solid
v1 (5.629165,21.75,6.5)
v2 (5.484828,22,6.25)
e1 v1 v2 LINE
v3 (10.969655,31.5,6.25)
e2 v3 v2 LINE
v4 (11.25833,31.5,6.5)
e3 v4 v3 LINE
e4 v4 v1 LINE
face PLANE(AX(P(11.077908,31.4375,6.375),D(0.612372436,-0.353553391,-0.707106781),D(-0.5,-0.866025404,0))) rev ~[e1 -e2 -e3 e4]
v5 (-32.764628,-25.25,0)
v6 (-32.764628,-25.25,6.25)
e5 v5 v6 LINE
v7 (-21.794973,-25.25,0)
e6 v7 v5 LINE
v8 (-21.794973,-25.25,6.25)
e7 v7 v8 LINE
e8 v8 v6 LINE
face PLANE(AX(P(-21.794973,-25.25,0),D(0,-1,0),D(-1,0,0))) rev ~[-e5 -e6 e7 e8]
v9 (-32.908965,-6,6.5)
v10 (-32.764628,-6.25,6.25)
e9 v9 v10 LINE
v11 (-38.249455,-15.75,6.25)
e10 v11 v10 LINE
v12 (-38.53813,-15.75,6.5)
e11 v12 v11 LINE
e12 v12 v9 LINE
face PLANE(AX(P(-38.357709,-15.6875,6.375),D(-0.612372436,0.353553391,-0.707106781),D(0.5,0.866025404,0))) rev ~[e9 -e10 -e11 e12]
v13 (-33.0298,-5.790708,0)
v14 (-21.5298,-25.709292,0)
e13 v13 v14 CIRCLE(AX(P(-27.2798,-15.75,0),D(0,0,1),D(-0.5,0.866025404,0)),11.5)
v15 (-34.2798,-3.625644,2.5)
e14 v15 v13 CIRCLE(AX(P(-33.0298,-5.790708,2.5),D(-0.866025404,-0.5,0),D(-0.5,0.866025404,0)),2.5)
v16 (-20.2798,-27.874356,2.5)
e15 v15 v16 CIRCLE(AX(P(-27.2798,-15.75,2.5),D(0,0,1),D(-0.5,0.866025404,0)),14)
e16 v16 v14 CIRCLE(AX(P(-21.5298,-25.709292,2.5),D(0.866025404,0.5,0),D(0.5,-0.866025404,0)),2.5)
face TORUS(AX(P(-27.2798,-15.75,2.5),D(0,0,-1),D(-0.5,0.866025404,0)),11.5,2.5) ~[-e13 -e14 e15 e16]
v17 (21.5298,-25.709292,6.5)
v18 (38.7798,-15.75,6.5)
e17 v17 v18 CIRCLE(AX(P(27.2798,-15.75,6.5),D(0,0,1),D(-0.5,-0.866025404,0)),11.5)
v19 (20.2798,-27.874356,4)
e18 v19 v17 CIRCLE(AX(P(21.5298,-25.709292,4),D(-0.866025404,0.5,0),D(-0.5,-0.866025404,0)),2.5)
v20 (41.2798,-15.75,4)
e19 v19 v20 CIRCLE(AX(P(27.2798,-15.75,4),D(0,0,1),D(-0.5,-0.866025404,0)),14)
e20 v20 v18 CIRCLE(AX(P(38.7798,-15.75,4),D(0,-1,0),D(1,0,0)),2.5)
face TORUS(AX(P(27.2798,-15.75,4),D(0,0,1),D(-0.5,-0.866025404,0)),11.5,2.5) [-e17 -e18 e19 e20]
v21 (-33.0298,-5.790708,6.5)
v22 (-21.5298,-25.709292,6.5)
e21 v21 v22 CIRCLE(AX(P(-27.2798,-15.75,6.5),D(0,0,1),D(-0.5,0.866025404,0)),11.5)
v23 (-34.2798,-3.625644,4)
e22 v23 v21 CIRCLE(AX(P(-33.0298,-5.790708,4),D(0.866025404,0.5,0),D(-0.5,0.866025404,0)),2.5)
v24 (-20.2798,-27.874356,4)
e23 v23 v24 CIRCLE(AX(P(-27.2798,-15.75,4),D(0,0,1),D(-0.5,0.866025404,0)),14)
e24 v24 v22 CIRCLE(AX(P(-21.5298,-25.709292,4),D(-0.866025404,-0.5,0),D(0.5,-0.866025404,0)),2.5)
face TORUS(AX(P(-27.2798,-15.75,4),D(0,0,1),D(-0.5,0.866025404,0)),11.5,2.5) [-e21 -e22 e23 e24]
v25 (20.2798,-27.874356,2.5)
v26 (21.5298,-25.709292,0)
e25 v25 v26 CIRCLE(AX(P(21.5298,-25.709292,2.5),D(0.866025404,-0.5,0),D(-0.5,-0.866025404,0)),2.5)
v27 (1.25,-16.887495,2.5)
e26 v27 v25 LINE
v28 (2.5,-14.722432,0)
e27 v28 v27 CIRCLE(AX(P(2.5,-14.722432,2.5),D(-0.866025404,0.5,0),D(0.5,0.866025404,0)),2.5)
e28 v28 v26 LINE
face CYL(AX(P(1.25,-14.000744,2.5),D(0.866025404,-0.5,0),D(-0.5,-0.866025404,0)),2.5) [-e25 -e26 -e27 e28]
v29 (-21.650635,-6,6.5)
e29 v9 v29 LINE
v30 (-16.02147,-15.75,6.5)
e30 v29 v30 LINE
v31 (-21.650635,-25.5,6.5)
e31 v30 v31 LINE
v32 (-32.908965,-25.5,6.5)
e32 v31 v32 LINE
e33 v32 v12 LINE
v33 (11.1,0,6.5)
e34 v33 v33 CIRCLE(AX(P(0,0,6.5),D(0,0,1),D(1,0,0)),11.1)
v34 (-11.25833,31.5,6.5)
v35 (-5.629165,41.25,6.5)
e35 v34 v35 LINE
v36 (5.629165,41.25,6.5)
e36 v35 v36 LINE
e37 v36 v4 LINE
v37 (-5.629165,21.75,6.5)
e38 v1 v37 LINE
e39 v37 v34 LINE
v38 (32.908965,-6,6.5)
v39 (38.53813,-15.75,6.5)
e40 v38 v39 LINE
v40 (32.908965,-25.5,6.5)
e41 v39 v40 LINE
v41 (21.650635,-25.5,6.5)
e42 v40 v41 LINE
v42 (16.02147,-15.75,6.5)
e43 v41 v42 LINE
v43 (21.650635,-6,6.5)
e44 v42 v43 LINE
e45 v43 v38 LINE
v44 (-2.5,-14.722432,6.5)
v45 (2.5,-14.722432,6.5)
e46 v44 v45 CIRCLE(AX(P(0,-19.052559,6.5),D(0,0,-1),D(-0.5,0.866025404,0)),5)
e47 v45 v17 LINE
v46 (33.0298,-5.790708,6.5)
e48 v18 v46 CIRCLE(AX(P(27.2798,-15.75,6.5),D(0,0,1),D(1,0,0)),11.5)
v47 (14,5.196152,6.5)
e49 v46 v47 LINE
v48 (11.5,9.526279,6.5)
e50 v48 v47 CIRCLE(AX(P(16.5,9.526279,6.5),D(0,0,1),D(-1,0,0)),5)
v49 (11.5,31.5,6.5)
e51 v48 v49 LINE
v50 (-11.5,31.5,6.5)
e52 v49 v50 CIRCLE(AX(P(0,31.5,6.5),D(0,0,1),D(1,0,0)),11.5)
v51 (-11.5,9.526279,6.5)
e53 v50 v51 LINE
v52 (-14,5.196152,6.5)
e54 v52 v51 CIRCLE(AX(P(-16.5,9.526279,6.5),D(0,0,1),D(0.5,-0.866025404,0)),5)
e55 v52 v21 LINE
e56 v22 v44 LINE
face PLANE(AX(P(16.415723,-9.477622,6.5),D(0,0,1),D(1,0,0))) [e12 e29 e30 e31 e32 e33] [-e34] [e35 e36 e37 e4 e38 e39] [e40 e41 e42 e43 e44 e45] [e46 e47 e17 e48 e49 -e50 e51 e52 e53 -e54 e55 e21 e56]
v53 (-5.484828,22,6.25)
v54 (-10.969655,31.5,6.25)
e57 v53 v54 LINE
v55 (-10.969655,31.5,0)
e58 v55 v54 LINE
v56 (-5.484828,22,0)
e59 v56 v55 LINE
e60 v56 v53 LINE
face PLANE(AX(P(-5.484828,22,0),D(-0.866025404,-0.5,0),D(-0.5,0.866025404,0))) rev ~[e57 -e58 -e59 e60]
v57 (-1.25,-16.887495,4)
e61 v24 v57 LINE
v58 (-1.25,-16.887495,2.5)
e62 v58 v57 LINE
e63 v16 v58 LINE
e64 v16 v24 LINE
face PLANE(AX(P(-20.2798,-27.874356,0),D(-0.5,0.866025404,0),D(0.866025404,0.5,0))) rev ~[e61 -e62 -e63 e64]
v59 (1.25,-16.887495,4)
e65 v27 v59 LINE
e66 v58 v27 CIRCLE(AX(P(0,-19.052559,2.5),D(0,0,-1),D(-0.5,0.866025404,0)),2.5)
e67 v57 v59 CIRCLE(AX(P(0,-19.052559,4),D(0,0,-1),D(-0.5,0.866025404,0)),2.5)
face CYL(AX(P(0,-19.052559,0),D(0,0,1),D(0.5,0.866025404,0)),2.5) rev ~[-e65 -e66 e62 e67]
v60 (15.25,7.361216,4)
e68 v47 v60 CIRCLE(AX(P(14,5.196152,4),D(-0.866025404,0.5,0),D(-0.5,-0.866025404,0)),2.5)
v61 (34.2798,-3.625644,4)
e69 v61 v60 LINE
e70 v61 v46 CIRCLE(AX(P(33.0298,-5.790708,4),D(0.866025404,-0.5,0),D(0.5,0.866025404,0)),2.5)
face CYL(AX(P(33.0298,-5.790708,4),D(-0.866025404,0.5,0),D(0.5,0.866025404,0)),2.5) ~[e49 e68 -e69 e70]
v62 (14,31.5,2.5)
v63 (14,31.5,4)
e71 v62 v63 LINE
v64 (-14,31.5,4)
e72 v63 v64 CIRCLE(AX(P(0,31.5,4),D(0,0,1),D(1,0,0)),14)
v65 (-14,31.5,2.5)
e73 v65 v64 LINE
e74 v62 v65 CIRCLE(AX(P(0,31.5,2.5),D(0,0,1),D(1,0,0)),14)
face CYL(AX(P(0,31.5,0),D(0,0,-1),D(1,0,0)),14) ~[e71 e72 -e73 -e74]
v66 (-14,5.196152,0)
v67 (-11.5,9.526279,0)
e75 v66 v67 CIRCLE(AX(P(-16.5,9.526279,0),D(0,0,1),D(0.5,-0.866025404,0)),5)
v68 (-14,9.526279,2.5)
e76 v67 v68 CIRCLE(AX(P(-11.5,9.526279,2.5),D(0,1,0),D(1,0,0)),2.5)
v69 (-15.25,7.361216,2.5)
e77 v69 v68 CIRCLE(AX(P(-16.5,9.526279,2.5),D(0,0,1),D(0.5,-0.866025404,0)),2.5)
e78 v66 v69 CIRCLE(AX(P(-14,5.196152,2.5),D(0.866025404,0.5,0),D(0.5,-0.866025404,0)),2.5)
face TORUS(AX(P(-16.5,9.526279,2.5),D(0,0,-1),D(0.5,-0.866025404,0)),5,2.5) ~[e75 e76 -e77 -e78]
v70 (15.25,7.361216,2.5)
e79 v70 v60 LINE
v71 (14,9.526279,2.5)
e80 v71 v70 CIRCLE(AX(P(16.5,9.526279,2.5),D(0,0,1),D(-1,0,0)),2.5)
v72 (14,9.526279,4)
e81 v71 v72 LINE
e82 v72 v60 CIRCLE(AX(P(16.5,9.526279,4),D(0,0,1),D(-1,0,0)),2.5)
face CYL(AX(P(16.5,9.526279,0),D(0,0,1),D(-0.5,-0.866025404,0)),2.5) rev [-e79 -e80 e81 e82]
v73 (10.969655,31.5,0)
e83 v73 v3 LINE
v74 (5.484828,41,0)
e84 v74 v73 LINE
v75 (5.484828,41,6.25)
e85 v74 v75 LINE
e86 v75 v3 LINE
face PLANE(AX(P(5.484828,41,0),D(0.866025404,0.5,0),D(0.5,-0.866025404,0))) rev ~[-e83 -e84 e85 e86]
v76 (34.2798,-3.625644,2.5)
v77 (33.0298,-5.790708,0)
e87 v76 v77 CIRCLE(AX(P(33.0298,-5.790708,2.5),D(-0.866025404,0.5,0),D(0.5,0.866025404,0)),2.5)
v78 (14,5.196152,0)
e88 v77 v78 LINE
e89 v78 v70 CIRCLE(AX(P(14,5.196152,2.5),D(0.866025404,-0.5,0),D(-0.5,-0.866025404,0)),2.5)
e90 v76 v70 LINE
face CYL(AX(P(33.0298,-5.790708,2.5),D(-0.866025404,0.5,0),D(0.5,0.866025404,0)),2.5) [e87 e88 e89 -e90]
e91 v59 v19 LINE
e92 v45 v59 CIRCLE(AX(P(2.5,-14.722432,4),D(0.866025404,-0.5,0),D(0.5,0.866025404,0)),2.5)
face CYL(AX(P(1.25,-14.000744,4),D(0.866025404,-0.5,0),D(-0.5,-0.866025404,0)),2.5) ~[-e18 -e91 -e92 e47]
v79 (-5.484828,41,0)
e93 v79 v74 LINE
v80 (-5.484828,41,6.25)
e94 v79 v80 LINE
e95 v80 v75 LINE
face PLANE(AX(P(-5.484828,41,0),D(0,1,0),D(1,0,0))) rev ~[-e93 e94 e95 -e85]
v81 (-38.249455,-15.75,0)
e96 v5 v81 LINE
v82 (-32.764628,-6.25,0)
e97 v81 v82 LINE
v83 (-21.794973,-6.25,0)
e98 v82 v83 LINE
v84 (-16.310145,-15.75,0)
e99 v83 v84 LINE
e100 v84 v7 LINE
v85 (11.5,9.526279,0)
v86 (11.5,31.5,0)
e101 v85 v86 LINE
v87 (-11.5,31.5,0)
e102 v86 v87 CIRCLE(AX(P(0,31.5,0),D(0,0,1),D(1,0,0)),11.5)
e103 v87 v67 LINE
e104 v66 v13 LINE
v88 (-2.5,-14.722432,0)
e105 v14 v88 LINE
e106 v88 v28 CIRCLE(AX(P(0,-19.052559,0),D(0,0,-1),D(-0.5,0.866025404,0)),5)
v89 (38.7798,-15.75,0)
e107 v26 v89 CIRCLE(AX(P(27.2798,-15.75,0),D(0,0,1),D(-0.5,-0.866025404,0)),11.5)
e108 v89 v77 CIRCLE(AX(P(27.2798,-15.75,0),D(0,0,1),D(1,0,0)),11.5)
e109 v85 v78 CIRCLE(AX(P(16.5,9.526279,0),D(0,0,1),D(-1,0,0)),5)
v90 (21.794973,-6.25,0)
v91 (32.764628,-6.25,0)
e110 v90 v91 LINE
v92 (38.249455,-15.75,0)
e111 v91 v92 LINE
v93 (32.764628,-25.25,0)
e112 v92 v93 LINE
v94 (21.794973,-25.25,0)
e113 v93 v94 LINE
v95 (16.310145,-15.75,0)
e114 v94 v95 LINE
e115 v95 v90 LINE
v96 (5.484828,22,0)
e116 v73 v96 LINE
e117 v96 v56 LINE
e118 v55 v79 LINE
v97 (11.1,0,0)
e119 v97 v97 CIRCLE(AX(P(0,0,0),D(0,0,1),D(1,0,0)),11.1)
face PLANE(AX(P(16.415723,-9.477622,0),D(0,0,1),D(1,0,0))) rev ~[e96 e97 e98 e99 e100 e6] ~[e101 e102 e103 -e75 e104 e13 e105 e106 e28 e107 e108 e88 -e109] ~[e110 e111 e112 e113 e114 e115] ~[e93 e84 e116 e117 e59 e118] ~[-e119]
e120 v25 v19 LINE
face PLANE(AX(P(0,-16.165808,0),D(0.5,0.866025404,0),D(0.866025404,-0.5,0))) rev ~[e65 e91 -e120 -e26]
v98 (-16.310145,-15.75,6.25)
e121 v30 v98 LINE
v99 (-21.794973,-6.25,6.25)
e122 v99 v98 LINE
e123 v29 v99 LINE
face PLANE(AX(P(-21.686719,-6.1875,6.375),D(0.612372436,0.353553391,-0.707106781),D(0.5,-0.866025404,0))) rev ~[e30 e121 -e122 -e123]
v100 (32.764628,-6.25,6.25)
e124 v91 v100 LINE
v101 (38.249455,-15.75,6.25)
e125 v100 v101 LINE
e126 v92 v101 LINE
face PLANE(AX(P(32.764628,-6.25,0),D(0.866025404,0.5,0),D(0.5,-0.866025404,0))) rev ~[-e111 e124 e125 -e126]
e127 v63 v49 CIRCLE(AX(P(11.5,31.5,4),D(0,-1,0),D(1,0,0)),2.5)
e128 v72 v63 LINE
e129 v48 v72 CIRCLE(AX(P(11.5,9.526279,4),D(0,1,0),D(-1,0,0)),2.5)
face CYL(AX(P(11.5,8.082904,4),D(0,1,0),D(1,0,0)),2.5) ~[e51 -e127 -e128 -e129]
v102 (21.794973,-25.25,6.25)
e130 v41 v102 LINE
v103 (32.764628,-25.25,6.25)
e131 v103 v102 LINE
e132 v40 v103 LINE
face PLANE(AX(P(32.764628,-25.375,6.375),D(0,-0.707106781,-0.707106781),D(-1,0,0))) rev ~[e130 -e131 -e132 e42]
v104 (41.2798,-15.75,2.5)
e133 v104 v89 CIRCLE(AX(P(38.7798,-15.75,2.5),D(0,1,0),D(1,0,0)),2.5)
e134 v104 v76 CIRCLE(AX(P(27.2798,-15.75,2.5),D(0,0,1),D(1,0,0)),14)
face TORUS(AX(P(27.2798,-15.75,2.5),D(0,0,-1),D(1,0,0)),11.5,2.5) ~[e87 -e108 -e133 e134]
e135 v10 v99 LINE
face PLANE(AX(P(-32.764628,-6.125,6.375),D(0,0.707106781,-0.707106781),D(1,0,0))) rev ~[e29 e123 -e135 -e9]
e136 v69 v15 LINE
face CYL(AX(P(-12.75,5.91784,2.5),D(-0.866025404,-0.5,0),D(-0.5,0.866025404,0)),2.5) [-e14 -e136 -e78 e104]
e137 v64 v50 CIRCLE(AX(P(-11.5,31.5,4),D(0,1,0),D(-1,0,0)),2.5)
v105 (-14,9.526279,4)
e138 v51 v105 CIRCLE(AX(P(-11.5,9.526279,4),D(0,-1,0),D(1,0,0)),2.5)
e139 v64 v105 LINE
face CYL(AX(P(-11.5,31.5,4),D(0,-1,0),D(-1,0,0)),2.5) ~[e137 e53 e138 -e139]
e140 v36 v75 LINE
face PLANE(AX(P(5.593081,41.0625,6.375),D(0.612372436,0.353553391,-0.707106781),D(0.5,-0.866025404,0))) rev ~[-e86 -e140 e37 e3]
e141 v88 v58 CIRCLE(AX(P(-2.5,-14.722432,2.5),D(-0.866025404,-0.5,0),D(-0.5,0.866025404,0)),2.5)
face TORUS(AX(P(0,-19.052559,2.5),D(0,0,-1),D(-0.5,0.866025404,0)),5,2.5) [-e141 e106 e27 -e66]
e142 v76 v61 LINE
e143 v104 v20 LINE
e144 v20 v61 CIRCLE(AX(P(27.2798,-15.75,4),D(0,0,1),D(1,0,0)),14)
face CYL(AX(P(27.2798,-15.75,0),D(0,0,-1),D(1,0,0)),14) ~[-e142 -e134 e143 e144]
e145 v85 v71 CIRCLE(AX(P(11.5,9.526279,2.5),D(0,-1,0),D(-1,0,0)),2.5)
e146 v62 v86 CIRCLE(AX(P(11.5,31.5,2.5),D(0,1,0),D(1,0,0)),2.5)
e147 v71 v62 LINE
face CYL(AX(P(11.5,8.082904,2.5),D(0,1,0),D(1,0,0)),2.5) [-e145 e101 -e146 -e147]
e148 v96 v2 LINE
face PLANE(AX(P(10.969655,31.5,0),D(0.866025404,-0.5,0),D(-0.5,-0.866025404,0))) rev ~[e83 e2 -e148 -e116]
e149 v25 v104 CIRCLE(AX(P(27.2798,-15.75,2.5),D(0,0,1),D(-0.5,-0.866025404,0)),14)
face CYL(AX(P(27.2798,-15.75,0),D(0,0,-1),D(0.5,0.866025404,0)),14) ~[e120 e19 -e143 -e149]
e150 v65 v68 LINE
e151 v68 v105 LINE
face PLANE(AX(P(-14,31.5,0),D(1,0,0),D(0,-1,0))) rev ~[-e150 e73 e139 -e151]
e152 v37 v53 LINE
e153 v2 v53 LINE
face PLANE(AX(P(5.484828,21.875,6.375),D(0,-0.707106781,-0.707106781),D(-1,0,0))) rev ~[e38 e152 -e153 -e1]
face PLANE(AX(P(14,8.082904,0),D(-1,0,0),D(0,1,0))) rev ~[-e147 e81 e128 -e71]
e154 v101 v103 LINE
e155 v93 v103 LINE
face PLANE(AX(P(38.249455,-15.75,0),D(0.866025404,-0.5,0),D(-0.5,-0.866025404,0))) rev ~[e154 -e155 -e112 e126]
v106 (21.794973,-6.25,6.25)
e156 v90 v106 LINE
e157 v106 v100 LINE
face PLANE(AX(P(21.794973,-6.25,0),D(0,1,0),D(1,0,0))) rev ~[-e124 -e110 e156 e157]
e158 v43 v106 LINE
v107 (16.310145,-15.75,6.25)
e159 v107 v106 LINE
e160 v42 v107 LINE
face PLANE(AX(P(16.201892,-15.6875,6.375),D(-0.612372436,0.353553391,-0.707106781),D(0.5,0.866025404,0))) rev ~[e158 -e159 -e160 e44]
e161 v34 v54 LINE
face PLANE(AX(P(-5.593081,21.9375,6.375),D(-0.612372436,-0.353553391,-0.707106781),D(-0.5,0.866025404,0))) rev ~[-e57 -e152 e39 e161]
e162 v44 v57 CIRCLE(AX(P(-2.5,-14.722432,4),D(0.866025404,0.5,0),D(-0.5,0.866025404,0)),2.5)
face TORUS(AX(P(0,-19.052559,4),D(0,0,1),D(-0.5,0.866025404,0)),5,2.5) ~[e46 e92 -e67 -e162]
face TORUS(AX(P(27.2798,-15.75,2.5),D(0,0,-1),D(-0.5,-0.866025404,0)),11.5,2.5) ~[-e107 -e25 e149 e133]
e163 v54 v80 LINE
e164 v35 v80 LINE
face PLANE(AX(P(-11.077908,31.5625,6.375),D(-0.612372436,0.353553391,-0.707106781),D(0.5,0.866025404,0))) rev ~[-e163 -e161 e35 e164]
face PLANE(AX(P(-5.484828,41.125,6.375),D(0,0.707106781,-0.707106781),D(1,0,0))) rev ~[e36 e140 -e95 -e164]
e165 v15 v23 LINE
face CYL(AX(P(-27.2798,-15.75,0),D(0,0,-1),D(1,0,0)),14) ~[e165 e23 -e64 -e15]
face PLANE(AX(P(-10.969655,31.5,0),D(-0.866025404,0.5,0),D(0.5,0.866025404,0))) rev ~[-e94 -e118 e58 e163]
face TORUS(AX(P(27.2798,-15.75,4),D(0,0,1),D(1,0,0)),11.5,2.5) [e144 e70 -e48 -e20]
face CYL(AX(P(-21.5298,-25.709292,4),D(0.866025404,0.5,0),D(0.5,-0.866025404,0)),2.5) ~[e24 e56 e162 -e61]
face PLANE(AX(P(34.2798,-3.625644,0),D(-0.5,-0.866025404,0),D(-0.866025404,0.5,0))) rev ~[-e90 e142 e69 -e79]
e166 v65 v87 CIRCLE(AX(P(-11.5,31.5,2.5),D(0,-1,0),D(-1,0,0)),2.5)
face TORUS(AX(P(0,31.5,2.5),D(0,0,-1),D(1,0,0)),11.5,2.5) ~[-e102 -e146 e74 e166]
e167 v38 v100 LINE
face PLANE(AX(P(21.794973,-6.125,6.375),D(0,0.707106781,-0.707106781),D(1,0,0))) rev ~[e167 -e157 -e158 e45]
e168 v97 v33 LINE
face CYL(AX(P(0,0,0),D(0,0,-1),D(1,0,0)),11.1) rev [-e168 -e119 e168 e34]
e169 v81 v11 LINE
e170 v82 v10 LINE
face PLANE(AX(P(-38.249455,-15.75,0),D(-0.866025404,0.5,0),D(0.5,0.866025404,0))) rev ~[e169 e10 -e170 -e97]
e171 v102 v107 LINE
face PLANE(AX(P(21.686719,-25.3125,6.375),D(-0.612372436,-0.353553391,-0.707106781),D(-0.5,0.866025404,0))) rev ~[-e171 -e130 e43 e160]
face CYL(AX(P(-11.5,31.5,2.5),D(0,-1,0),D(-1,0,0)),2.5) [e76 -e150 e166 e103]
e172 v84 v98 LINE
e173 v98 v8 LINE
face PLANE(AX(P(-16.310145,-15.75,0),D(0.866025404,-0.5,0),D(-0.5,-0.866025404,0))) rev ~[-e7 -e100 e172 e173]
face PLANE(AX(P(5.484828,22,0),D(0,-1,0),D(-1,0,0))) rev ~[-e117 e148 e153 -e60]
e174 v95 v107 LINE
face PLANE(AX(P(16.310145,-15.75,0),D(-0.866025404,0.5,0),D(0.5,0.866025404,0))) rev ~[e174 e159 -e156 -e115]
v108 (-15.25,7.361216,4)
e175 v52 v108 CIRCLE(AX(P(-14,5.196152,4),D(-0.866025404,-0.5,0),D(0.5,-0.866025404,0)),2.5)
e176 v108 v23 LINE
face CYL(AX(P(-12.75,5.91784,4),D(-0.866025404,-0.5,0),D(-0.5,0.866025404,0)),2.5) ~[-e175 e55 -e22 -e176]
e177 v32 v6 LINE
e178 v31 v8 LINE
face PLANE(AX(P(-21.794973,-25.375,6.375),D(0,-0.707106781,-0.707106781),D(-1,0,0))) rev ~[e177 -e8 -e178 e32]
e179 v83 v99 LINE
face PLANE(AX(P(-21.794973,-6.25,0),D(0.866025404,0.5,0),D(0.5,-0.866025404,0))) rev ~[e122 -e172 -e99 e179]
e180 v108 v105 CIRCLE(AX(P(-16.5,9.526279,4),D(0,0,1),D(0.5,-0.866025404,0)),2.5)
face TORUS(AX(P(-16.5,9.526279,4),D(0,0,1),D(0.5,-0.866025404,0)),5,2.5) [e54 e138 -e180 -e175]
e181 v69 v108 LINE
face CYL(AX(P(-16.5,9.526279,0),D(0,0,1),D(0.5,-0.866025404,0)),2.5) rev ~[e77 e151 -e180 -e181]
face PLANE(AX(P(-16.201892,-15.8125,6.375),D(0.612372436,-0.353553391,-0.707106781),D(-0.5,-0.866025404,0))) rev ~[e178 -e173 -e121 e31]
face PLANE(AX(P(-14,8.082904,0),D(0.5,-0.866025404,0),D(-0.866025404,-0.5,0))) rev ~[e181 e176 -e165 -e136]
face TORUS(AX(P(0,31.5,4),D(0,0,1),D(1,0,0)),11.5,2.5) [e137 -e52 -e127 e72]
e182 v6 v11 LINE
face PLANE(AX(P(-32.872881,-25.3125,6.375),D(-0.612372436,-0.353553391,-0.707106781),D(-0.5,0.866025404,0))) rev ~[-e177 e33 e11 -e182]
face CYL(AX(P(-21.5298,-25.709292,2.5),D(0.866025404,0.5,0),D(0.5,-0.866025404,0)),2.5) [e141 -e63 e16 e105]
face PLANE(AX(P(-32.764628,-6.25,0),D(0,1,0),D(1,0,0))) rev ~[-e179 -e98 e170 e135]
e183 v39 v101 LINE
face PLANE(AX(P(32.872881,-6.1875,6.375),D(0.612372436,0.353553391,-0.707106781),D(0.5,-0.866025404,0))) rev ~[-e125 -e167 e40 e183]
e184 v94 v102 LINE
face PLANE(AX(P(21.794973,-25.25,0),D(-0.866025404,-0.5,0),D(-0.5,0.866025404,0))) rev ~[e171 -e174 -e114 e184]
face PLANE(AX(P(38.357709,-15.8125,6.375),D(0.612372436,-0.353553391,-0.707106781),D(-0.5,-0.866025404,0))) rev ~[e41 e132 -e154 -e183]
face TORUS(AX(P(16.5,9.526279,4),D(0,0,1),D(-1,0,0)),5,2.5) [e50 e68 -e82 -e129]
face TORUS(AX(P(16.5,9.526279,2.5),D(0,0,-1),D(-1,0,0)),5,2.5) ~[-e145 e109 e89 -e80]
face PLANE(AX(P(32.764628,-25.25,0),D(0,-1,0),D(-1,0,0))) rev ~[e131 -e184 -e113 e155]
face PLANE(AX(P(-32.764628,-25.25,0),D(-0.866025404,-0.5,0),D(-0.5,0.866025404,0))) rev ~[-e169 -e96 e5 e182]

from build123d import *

# Parameters (mm, degrees)
F0_R     = 11.1
F1_DEPTH = 6.5
F2_R     = 2.5
F3_SIZE  = 0.25


with BuildPart() as f1:
    # F0 (on Top) → F1 (new body)
    with BuildSketch(Plane.XY):
        with BuildLine():
            Line((14, 8.0829037687), (14, 0))
            ThreePointArc((14, 0), (12.124355653, -7), (7, -12.124355653))
            Line((7, -12.124355653), (0, -16.1658075373))
            Line((0, -16.1658075373), (20.2798002192, -27.874355653))
            ThreePointArc((20.2798002192, -27.874355653), (15.1554445662, -8.75), (34.2798002192, -3.625644347))
            Line((34.2798002192, -3.625644347), (14, 8.0829037687))
        make_face()
        with BuildLine():
            ThreePointArc((7, 12.124355653), (12.124355653, 7), (14, 0))
            Line((14, 0), (14, 8.0829037687))
            Line((14, 8.0829037687), (7, 12.124355653))
        make_face()
        with BuildLine():
            ThreePointArc((-7, 12.124355653), (0, 14), (7, 12.124355653))
            Line((7, 12.124355653), (14, 8.0829037687))
            Line((14, 8.0829037687), (14, 31.5))
            ThreePointArc((14, 31.5), (0, 17.5), (-14, 31.5))
            Line((-14, 31.5), (-14, 8.0829037687))
            Line((-14, 8.0829037687), (-7, 12.124355653))
        make_face()
        with BuildLine():
            Line((0, -16.1658075373), (7, -12.124355653))
            ThreePointArc((7, -12.124355653), (0, -14), (-7, -12.124355653))
            Line((-7, -12.124355653), (0, -16.1658075373))
        make_face()
        with BuildLine():
            ThreePointArc((-14, 0), (-12.124355653, 7), (-7, 12.124355653))
            Line((-7, 12.124355653), (-14, 8.0829037687))
            Line((-14, 8.0829037687), (-14, 0))
        make_face()
        with BuildLine():
            Line((0, -16.1658075373), (-7, -12.124355653))
            ThreePointArc((-7, -12.124355653), (-12.124355653, -7), (-14, 0))
            Line((-14, 0), (-14, 8.0829037687))
            Line((-14, 8.0829037687), (-34.2798002192, -3.625644347))
            ThreePointArc((-34.2798002192, -3.625644347), (-20.2798002192, -3.625644347), (-13.2798002192, -15.75))
            ThreePointArc((-13.2798002192, -15.75), (-15.1554445662, -22.75), (-20.2798002192, -27.874355653))
            Line((-20.2798002192, -27.874355653), (0, -16.1658075373))
        make_face()
        with BuildLine():
            ThreePointArc((-14, 31.5), (0, 17.5), (14, 31.5))
            ThreePointArc((14, 31.5), (0, 45.5), (-14, 31.5))
        make_face()
        Polygon((10.9696551146, 31.5), (5.4848275573, 22), (-5.4848275573, 22), (-10.9696551146, 31.5), (-5.4848275573, 41), (5.4848275573, 41), align=None, mode=Mode.SUBTRACT)
        with BuildLine():
            ThreePointArc((41.2798002192, -15.75), (39.4041558722, -8.75), (34.2798002192, -3.625644347))
            ThreePointArc((34.2798002192, -3.625644347), (15.1554445662, -8.75), (20.2798002192, -27.874355653))
            ThreePointArc((20.2798002192, -27.874355653), (34.2798002192, -27.874355653), (41.2798002192, -15.75))
        make_face()
        Polygon((16.3101451046, -15.75), (21.7949726619, -6.25), (32.7646277765, -6.25), (38.2494553338, -15.75), (32.7646277765, -25.25), (21.7949726619, -25.25), align=None, mode=Mode.SUBTRACT)
        with BuildLine():
            ThreePointArc((-34.2798002192, -3.625644347), (-39.4041558722, -22.75), (-20.2798002192, -27.874355653))
            ThreePointArc((-20.2798002192, -27.874355653), (-15.1554445662, -22.75), (-13.2798002192, -15.75))
            ThreePointArc((-13.2798002192, -15.75), (-20.2798002192, -3.625644347), (-34.2798002192, -3.625644347))
        make_face()
        Polygon((-21.7949726619, -6.25), (-16.3101451046, -15.75), (-21.7949726619, -25.25), (-32.7646277765, -25.25), (-38.2494553338, -15.75), (-32.7646277765, -6.25), align=None, mode=Mode.SUBTRACT)
        with BuildLine():
            ThreePointArc((7, -12.124355653), (12.124355653, -7), (14, 0))
            ThreePointArc((14, 0), (12.124355653, 7), (7, 12.124355653))
            ThreePointArc((7, 12.124355653), (0, 14), (-7, 12.124355653))
            ThreePointArc((-7, 12.124355653), (-12.124355653, 7), (-14, 0))
            ThreePointArc((-14, 0), (-12.124355653, -7), (-7, -12.124355653))
            ThreePointArc((-7, -12.124355653), (0, -14), (7, -12.124355653))
        make_face()
        Circle(F0_R, mode=Mode.SUBTRACT)
    extrude(amount=F1_DEPTH)

    # F2
    f2_edges = [f1.edges().sort_by_distance(p)[0] for p in [
        (-20.2798, -27.874356, 3.25),
        (0, -16.165808, 3.25),
        (-10.1399, -22.020082, 0),
        (-10.1399, -22.020082, 6.5),
        (-34.2798, -3.625644, 3.25),
        (-39.404156, -22.75, 0),
        (-39.404156, -22.75, 6.5),
        (20.2798, -27.874356, 3.25),
        (10.1399, -22.020082, 0),
        (10.1399, -22.020082, 6.5),
        (34.2798, -3.625644, 3.25),
        (39.404156, -22.75, 0),
        (39.404156, -22.75, 6.5),
        (14, 8.082904, 3.25),
        (24.1399, 2.22863, 0),
        (24.1399, 2.22863, 6.5),
        (14, 31.5, 3.25),
        (14, 19.791452, 0),
        (14, 19.791452, 6.5),
        (-14, 31.5, 3.25),
        (-14, 8.082904, 3.25),
        (-14, 19.791452, 0),
        (-14, 19.791452, 6.5),
        (-24.1399, 2.22863, 0),
        (-24.1399, 2.22863, 6.5),
    ]]
    fillet(f2_edges, radius=F2_R)

    # F3
    f3_edges = [f1.edges().sort_by_distance(p)[0] for p in [
        (19.052559, -20.5, 6.5),
        (19.052559, -11, 6.5),
        (27.2798, -6.25, 6.5),
        (35.507042, -11, 6.5),
        (35.507042, -20.5, 6.5),
        (27.2798, -25.25, 6.5),
        (-35.507042, -20.5, 6.5),
        (-35.507042, -11, 6.5),
        (-27.2798, -6.25, 6.5),
        (-19.052559, -11, 6.5),
        (-19.052559, -20.5, 6.5),
        (-27.2798, -25.25, 6.5),
        (0, 22, 6.5),
        (8.227241, 26.75, 6.5),
        (8.227241, 36.25, 6.5),
        (0, 41, 6.5),
        (-8.227241, 36.25, 6.5),
        (-8.227241, 26.75, 6.5),
    ]]
    chamfer(f3_edges, length=F3_SIZE)


solid = f1.part
